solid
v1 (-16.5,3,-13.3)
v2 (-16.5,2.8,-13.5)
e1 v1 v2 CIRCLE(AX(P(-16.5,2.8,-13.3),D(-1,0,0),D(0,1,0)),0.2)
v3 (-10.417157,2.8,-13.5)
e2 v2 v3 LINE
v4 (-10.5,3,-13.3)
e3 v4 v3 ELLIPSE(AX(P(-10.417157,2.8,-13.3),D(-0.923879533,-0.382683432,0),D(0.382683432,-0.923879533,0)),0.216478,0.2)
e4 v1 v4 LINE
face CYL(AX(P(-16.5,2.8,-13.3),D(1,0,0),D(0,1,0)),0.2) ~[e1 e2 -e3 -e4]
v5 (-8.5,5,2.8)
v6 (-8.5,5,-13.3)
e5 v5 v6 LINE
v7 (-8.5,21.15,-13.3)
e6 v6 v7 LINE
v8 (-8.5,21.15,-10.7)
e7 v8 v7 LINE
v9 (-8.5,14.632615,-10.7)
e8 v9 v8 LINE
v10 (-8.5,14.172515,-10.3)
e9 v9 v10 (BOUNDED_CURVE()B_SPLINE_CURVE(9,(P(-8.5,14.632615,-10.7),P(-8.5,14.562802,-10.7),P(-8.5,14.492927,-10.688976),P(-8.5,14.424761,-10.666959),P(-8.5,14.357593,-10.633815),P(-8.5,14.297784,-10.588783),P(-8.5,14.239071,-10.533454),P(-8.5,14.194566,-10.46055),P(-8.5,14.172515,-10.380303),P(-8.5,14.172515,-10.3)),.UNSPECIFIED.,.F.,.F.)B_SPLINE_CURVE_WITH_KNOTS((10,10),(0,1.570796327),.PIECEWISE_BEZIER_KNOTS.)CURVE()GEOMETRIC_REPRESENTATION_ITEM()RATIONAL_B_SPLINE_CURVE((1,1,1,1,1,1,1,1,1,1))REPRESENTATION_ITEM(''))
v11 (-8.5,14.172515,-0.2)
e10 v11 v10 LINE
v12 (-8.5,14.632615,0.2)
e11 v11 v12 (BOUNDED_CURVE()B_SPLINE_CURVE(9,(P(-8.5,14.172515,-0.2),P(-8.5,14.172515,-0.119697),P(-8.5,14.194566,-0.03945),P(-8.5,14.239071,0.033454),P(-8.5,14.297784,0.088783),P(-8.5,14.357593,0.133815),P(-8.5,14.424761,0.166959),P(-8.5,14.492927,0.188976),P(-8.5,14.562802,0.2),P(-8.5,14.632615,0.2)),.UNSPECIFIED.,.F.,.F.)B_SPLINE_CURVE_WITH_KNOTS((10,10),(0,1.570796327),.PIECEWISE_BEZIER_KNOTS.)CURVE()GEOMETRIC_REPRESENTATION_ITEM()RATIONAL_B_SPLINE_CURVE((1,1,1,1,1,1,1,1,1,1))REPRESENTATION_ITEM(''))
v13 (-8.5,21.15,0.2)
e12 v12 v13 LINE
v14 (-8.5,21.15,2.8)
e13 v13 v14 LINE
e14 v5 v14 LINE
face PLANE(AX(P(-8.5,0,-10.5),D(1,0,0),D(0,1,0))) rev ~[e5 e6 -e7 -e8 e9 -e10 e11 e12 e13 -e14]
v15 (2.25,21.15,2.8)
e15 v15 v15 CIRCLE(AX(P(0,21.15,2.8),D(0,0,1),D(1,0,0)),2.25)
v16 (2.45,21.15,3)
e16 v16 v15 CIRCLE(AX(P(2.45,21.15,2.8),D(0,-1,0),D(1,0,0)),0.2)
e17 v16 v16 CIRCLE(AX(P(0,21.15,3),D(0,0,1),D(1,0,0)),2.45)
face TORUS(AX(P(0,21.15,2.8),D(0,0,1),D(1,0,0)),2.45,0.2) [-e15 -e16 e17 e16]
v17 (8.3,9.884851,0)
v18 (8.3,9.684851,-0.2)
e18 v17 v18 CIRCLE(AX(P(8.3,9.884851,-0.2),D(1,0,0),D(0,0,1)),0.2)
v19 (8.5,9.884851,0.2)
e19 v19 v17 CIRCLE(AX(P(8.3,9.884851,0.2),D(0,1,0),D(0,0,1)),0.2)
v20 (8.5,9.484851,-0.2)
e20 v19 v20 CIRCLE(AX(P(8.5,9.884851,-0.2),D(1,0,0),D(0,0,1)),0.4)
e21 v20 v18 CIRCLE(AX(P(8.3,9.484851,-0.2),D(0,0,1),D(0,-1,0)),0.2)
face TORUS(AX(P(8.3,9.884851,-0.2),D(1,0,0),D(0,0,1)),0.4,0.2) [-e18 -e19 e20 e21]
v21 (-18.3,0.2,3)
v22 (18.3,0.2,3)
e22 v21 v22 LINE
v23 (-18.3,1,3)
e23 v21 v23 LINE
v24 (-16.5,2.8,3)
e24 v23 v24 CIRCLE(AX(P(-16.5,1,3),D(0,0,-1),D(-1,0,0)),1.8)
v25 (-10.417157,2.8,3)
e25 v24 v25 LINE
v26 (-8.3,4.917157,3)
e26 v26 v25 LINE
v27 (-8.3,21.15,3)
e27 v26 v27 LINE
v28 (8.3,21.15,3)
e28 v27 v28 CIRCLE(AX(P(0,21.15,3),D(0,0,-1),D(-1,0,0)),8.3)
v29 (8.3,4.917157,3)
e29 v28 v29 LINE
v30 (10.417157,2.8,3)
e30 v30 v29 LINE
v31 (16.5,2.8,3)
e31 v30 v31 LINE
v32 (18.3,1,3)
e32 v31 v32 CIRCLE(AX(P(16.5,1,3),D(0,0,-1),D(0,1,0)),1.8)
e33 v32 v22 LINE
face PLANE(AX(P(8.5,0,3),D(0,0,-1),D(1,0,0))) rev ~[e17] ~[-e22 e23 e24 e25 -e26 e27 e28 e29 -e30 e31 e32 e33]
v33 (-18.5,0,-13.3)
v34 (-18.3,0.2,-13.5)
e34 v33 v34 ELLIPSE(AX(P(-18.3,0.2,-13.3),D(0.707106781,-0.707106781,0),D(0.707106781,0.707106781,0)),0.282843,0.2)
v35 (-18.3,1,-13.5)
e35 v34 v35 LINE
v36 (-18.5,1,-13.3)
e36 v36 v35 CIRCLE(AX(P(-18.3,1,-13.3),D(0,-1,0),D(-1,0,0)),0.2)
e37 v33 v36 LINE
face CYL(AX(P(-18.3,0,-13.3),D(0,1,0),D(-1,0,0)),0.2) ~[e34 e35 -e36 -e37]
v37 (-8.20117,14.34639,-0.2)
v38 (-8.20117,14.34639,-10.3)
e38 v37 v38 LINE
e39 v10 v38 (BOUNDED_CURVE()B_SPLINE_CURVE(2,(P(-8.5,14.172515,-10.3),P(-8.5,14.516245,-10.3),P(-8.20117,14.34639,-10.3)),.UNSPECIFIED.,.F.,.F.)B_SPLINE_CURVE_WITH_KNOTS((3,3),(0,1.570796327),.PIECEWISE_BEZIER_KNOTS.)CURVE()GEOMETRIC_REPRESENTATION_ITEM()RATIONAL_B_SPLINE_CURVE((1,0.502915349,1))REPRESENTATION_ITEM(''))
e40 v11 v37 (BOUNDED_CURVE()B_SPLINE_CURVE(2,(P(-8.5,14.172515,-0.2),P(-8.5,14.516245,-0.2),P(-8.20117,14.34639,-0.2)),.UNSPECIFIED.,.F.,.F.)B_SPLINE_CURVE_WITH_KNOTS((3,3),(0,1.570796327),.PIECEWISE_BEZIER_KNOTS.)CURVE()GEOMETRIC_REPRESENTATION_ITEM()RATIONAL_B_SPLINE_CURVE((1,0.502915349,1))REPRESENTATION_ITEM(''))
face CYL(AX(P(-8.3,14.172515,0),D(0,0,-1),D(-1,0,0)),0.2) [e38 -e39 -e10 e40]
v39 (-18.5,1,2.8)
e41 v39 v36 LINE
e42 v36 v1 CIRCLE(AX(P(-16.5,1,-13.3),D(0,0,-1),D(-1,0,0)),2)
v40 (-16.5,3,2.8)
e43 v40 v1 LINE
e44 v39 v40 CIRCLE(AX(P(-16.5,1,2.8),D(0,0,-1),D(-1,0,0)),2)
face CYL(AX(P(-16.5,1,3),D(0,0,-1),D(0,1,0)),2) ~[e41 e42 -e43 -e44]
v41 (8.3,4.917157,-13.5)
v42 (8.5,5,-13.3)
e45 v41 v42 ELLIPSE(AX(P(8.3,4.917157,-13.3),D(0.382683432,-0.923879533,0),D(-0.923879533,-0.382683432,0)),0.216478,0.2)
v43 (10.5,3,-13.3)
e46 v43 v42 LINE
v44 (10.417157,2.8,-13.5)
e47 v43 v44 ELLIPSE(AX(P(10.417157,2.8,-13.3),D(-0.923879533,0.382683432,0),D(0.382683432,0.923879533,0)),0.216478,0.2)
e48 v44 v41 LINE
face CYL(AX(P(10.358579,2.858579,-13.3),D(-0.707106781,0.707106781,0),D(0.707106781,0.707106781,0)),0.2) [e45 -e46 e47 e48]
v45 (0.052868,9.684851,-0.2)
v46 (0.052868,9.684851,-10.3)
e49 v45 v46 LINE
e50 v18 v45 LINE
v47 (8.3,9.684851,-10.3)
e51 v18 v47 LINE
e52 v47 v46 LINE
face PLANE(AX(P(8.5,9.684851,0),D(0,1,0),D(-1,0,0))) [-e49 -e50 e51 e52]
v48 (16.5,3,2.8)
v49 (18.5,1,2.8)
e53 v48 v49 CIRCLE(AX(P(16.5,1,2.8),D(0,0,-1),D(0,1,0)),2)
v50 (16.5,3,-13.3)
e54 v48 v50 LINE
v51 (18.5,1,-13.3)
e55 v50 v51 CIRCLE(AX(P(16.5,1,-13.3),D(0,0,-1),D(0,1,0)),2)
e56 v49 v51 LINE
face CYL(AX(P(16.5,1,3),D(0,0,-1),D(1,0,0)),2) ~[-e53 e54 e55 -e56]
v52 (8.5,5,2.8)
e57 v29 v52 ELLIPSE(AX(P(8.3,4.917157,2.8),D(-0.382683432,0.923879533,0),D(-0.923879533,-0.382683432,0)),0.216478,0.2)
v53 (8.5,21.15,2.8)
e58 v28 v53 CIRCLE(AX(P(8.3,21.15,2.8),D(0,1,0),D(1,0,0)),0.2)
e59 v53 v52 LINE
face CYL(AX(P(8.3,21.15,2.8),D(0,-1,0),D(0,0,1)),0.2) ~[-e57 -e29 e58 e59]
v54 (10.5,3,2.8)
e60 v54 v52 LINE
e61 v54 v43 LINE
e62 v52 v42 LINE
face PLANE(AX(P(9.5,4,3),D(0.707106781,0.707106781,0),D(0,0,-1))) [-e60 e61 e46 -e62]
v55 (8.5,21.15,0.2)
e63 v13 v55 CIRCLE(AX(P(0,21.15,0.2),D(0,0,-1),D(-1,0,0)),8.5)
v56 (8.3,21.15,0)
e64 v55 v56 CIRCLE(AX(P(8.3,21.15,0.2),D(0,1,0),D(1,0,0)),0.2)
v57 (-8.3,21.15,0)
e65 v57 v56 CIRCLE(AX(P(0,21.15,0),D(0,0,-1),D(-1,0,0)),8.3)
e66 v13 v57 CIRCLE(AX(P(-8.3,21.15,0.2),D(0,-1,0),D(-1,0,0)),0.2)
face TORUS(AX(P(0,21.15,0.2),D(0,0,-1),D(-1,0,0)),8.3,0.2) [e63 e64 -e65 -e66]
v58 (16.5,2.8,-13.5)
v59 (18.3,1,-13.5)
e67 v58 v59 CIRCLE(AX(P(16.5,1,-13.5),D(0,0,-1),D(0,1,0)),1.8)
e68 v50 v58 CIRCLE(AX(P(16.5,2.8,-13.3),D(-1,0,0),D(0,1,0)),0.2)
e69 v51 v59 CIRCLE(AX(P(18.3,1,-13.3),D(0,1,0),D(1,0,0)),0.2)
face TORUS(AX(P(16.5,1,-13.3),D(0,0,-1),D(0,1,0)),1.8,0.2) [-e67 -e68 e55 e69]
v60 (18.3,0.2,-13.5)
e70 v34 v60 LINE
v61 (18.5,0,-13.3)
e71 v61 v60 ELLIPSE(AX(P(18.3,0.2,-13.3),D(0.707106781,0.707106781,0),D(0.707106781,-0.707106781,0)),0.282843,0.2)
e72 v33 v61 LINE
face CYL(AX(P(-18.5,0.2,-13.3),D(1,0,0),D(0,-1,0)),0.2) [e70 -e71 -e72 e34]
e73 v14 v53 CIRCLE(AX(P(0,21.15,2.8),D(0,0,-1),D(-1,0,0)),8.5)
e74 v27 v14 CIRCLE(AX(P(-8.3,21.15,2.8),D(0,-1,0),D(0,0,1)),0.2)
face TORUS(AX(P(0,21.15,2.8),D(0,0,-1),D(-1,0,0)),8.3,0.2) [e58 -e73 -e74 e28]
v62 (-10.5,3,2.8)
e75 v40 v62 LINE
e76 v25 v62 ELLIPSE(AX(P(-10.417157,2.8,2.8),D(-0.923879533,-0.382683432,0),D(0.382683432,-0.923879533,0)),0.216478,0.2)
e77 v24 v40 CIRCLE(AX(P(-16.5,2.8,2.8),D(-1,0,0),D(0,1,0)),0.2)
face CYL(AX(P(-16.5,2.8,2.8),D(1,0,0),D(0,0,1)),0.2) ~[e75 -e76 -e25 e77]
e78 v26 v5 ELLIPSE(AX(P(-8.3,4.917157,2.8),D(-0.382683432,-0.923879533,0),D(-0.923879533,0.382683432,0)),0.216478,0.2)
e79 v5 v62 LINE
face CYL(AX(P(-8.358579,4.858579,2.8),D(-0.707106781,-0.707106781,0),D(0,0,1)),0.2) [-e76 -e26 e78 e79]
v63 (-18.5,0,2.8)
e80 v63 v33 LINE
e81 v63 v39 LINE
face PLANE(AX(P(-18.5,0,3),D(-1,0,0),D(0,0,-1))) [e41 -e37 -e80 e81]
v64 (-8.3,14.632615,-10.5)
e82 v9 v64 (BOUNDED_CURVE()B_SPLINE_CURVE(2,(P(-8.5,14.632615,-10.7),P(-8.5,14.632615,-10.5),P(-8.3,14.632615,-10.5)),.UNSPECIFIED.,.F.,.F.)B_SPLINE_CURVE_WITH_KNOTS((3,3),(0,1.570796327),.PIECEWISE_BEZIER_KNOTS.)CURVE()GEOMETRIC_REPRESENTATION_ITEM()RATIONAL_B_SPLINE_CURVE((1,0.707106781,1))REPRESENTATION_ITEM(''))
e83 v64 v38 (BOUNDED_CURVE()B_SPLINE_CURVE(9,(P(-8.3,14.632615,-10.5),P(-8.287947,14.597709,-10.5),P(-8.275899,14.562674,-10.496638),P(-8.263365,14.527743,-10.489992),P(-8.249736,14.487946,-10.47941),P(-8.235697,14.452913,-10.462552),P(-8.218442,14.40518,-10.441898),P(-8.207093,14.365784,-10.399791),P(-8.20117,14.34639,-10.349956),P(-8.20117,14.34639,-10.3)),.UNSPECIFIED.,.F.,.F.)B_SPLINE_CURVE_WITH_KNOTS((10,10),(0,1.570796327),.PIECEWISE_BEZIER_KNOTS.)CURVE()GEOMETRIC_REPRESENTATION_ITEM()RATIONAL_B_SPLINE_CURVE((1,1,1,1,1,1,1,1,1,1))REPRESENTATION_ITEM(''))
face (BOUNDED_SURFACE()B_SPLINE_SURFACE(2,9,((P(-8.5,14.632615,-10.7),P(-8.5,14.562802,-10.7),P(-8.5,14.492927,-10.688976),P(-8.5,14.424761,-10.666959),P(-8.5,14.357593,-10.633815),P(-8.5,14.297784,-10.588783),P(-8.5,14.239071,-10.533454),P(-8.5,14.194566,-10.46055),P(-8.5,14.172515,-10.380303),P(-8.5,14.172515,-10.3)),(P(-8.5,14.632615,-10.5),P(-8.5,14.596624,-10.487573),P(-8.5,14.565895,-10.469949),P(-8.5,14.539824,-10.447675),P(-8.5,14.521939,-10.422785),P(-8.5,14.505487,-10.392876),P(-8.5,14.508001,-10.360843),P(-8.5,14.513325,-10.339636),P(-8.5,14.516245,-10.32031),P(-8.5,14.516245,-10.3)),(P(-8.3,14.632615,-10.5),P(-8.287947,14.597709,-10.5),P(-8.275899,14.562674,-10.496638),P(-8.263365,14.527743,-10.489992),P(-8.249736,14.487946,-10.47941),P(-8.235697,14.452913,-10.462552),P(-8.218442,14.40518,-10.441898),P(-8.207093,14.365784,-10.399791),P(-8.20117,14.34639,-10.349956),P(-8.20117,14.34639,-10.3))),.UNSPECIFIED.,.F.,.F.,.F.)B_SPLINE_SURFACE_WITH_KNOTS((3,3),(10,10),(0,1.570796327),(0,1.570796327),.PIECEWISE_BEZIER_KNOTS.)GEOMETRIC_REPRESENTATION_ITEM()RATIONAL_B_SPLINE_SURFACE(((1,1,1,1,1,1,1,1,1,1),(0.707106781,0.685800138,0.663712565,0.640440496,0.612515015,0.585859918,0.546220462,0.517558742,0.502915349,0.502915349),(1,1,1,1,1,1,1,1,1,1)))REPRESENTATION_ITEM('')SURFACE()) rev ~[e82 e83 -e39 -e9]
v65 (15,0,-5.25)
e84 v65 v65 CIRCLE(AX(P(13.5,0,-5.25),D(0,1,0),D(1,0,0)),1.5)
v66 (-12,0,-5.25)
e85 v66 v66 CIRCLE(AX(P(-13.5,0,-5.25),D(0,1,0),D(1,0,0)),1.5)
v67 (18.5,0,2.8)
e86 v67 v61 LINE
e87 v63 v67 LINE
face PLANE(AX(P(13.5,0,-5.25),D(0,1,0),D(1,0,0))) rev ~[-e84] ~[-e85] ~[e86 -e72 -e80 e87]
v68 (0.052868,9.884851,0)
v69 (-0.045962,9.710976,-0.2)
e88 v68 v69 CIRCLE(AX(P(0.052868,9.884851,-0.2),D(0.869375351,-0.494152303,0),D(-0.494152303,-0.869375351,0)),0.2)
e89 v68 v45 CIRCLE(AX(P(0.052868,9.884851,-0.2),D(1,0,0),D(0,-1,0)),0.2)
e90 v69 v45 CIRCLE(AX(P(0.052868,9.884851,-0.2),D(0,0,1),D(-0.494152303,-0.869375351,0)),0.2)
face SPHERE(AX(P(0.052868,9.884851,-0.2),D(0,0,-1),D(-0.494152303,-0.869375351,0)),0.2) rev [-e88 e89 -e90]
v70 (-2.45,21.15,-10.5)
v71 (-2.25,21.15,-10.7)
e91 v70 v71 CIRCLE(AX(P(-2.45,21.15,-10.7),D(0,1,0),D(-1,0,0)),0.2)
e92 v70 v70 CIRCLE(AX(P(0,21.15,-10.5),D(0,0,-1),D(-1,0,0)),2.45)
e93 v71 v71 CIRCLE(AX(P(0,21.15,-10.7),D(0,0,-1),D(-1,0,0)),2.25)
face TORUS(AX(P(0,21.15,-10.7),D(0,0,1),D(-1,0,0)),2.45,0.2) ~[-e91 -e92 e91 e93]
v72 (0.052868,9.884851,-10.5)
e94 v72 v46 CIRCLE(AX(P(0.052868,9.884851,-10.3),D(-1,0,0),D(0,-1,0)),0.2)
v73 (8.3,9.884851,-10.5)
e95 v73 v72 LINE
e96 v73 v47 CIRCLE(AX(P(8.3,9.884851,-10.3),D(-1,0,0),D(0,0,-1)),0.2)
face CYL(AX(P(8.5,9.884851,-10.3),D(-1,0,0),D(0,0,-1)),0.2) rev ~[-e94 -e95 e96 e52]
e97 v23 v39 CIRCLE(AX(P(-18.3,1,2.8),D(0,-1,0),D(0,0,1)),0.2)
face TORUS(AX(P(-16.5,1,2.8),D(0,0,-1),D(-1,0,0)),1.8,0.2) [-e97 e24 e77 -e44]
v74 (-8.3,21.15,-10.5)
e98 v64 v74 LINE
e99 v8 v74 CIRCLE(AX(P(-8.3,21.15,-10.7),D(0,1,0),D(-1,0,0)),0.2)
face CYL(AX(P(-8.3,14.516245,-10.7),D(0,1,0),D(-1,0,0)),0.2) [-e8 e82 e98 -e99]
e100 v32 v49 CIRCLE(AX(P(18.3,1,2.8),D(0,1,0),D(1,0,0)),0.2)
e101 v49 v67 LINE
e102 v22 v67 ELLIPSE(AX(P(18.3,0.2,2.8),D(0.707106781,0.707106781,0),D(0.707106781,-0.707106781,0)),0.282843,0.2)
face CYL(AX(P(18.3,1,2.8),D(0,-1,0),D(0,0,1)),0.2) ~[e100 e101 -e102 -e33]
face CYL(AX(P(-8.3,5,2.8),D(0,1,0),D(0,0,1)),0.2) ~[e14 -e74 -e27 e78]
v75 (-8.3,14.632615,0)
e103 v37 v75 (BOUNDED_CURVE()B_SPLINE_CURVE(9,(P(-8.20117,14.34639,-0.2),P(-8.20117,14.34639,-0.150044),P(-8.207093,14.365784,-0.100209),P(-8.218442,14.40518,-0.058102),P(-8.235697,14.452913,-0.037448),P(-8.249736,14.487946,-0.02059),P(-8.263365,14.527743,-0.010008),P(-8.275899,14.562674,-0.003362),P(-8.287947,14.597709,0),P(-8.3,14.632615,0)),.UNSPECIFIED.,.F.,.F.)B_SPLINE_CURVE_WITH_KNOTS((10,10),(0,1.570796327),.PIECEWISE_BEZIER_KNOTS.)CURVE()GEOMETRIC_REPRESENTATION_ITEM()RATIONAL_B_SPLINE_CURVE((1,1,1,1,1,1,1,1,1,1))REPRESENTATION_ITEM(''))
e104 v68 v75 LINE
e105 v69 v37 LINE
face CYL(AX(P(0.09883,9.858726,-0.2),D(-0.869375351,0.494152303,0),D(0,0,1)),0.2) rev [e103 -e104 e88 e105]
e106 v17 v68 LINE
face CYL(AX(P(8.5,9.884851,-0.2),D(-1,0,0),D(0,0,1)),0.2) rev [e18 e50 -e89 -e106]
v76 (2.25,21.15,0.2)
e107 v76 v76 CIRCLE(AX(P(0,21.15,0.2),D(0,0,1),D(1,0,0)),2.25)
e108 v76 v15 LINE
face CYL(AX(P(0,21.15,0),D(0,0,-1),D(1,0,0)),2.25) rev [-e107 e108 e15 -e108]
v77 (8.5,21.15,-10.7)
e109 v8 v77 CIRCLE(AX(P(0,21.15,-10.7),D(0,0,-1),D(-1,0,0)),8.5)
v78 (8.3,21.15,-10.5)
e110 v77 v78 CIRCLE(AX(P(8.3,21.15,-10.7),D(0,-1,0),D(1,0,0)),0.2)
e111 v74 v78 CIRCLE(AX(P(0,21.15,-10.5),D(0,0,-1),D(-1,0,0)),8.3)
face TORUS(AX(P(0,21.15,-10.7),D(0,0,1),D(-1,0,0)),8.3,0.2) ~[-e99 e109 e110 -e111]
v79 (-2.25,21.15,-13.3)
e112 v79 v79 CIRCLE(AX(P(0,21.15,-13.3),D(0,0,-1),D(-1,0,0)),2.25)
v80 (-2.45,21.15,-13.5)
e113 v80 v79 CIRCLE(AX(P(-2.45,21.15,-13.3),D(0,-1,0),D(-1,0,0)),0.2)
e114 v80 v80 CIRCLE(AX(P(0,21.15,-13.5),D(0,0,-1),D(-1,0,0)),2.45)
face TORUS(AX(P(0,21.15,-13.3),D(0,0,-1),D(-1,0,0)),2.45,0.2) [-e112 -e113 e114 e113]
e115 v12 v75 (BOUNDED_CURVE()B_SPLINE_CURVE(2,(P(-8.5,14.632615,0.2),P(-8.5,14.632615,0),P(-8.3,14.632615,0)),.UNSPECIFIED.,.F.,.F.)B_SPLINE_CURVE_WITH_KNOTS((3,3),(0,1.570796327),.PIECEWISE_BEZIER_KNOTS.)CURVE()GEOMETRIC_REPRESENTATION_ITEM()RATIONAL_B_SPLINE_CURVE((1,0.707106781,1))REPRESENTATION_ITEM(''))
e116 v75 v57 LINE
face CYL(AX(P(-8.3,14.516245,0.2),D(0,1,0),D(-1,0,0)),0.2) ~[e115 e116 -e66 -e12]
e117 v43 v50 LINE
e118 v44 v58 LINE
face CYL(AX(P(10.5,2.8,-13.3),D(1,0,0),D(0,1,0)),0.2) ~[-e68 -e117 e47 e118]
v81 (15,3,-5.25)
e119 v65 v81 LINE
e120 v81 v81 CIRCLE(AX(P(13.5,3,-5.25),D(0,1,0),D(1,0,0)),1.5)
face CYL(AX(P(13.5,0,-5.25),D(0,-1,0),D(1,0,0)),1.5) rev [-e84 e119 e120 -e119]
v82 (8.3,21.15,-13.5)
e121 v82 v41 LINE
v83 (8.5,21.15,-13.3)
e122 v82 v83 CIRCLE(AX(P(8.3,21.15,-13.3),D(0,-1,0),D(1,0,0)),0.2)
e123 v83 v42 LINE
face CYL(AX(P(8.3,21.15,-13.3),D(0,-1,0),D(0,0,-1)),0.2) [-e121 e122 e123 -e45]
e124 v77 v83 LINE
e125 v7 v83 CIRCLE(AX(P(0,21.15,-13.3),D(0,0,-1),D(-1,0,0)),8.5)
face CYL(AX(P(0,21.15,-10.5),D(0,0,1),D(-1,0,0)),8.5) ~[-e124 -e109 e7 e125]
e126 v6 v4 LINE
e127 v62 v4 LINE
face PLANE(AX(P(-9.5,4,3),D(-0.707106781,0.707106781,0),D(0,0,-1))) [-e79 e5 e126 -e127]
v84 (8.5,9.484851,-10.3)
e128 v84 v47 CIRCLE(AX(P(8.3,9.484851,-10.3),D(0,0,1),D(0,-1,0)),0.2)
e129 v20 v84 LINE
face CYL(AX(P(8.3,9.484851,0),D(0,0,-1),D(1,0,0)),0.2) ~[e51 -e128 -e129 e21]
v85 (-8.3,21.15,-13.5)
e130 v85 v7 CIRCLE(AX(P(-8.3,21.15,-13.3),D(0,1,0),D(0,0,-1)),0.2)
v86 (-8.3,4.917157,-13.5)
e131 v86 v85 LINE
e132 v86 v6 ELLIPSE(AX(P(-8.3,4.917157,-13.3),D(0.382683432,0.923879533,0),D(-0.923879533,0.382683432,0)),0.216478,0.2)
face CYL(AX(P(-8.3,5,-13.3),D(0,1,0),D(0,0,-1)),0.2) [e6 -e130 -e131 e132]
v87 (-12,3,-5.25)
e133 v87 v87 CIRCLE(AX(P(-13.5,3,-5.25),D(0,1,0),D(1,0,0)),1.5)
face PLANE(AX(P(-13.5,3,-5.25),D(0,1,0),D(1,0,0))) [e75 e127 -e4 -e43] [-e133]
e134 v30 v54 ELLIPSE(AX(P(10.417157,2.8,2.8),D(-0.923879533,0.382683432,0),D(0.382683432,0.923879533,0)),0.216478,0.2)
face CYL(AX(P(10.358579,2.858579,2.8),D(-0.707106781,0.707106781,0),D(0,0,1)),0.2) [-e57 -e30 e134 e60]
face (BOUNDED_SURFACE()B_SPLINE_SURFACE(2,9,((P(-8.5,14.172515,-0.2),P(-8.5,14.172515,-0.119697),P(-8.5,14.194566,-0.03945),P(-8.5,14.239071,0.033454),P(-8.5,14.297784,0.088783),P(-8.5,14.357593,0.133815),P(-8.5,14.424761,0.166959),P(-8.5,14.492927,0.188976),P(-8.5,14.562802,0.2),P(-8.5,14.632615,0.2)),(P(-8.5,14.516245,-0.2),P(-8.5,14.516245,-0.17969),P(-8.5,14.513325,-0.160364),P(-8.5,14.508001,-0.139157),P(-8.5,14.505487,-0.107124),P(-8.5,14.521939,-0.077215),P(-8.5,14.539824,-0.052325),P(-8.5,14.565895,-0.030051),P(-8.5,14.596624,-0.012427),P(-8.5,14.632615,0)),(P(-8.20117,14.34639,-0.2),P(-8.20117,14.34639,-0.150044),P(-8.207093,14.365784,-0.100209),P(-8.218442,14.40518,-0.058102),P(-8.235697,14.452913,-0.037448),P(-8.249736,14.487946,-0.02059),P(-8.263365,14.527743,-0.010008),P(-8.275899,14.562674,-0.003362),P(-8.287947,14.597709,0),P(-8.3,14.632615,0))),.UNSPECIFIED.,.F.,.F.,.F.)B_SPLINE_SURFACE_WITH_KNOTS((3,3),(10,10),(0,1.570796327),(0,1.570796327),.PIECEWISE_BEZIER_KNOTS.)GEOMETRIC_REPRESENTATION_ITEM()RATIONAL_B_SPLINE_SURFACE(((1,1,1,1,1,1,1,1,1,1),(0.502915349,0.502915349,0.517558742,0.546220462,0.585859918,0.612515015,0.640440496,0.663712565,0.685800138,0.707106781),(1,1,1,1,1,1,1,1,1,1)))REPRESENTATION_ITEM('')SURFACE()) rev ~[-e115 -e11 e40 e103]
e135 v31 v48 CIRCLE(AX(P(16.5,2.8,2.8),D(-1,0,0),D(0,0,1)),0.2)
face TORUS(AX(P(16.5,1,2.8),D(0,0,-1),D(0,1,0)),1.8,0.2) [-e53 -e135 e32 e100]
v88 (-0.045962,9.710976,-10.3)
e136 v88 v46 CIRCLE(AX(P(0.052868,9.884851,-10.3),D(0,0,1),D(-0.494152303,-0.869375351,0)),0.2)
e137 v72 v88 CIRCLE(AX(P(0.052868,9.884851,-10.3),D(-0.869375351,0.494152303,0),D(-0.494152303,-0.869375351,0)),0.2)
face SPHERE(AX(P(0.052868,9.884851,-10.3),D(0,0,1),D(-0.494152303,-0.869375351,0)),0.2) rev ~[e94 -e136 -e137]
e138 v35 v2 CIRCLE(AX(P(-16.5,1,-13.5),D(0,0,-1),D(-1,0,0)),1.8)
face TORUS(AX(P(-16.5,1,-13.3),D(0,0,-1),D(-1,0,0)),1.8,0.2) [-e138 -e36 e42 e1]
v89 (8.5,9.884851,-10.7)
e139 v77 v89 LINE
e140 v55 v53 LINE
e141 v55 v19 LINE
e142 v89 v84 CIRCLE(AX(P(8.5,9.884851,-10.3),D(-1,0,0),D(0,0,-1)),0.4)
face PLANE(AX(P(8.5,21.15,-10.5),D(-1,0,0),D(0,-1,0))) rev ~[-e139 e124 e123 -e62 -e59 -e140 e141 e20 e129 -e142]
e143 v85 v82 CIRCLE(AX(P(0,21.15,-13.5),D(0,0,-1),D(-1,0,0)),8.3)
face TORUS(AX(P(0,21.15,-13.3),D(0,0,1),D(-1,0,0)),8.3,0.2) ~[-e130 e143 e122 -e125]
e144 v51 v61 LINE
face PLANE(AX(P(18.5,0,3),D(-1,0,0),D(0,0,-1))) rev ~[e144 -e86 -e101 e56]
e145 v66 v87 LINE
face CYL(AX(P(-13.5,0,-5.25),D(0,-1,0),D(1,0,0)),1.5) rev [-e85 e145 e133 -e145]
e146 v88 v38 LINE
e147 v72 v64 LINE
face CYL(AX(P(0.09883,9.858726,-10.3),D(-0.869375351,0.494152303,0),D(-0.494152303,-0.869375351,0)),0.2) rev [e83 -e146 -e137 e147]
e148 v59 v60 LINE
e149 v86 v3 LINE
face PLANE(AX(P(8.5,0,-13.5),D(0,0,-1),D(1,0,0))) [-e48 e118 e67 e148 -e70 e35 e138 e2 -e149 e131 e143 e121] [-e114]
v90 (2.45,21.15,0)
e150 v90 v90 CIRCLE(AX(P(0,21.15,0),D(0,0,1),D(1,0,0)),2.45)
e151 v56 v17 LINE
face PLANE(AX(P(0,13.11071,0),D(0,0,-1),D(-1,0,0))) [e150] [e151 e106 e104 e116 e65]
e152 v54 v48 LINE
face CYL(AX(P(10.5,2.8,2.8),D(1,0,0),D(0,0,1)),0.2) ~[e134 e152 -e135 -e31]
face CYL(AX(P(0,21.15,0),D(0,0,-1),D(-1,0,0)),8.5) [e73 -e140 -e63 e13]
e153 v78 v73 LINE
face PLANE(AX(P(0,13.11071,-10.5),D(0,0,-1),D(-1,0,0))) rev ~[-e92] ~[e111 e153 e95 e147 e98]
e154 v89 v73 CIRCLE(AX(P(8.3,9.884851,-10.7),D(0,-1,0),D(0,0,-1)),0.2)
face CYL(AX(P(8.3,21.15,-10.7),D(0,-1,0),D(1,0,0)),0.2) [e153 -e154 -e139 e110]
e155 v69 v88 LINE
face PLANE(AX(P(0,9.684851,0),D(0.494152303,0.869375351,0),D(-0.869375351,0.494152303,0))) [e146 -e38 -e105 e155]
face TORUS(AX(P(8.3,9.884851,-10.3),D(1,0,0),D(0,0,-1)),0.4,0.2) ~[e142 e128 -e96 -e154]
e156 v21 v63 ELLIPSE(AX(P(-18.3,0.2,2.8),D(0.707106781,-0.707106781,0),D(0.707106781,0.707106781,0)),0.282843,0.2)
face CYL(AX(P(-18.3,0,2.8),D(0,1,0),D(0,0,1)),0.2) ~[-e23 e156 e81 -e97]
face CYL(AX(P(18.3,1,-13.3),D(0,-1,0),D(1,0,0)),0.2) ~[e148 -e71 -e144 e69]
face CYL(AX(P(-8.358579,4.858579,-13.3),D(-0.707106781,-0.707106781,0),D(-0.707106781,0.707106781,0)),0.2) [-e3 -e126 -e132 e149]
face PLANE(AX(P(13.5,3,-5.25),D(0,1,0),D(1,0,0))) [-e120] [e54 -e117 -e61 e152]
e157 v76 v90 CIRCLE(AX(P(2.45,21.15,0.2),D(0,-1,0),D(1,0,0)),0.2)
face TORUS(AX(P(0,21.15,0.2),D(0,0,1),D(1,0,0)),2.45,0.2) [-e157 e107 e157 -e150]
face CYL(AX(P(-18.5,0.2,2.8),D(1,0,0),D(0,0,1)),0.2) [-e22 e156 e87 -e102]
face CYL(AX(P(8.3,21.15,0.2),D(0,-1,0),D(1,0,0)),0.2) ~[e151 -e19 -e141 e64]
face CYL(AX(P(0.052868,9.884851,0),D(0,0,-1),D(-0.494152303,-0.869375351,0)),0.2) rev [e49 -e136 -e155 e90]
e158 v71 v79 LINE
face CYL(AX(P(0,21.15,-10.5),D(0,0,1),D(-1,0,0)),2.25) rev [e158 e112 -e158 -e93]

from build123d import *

# Parameters (mm, degrees)
SKETCH1_R           = 2.25
BOSS_EXTRUDE1_DEPTH = 3
BOSS_EXTRUDE2_DEPTH = 10.5
SKETCH3_R           = 2.25
BOSS_EXTRUDE3_DEPTH = 3
SKETCH4_W           = 10
SKETCH4_H           = 16.5
SKETCH4_R           = 1.5
BOSS_EXTRUDE4_DEPTH = 3
CHAMFER1_SIZE       = 2
FILLET1_R           = 2
FILLET2_R           = 0.2


with BuildPart() as part:
    # Sketch1 → Boss-Extrude1 (new body)
    with BuildSketch(Plane.XY):
        with BuildLine():
            Line((8.5, 21.15), (8.5, 0))
            Line((8.5, 0), (-8.5, 0))
            Line((-8.5, 0), (-8.5, 21.15))
            ThreePointArc((-8.5, 21.15), (0, 29.65), (8.5, 21.15))
        make_face()
        with Locations((0, 21.15)):
            Circle(SKETCH1_R, mode=Mode.SUBTRACT)
    extrude(amount=BOSS_EXTRUDE1_DEPTH)

    # Sketch2 → Boss-Extrude2 (add)
    with BuildSketch(Plane(origin=(0, 0, 0), x_dir=(-1, 0, 0), z_dir=(0, 0, -1))):
        Polygon((-8.5, 9.684851267), (0, 9.684851267), (8.5, 14.51624495), (8.5, 0), (-8.5, 0), align=None)
    extrude(amount=BOSS_EXTRUDE2_DEPTH)

    # Sketch3 → Boss-Extrude3 (add)
    with BuildSketch(Plane(origin=(0, 0, -10.5), x_dir=(-1, 0, 0), z_dir=(0, 0, -1))):
        with BuildLine():
            Line((-8.5, 21.15), (-8.5, 0))
            Line((-8.5, 0), (8.5, 0))
            Line((8.5, 0), (8.5, 21.15))
            ThreePointArc((8.5, 21.15), (0, 29.65), (-8.5, 21.15))
        make_face()
        with Locations((0, 21.15)):
            Circle(SKETCH3_R, mode=Mode.SUBTRACT)
    extrude(amount=BOSS_EXTRUDE3_DEPTH)

    # Sketch4 → Boss-Extrude4 (add)
    with BuildSketch(Plane(origin=(0, 0, 0), x_dir=(1, 0, 0), z_dir=(0, 1, 0))):
        with Locations((13.5, 5.25)):
            Rectangle(SKETCH4_W, SKETCH4_H)
        with Locations((13.5, 5.25)):
            Circle(SKETCH4_R, mode=Mode.SUBTRACT)
        with Locations((-13.5, 5.25)):
            Rectangle(SKETCH4_W, SKETCH4_H)
        with Locations((-13.5, 5.25)):
            Circle(SKETCH4_R, mode=Mode.SUBTRACT)
    extrude(amount=BOSS_EXTRUDE4_DEPTH)

    # Chamfer1
    chamfer1_edges = [part.edges().sort_by_distance(p)[0] for p in [
        (8.5, 3, -5.25),
        (-8.5, 3, -5.25),
    ]]
    chamfer(chamfer1_edges, length=CHAMFER1_SIZE)

    # Fillet1
    fillet1_edges = [part.edges().sort_by_distance(p)[0] for p in [
        (18.5, 3, -5.25),
        (-18.5, 3, -5.25),
    ]]
    fillet(fillet1_edges, radius=FILLET1_R)

    # Fillet2
    fillet2_edges = [part.edges().sort_by_distance(p)[0] for p in [
        (0, 29.65, 3),
        (-2.25, 21.15, 0),
        (-2.25, 21.15, 3),
        (-8.5, 13.075, 3),
        (8.5, 15.417425634, 0),
        (8.5, 9.684851267, -5.25),
        (-4.25, 12.100548109, 0),
        (-8.5, 14.51624495, -5.25),
        (4.25, 9.684851267, 0),
        (0, 9.684851267, -5.25),
        (-4.25, 12.100548109, -10.5),
        (4.25, 9.684851267, -10.5),
        (0, 29.65, -13.5),
        (8.5, 13.075, -13.5),
        (0, 0, -13.5),
        (2.25, 21.15, -10.5),
        (0, 29.65, -10.5),
        (8.5, 15.417425634, -10.5),
        (-8.5, 17.833122475, -10.5),
        (2.25, 21.15, -13.5),
        (0, 0, 3),
        (-8.5, 17.833122475, 0),
        (0, 29.65, 0),
        (-13.5, 3, -13.5),
        (-8.5, 13.075, -13.5),
        (13.5, 3, 3),
        (8.5, 13.075, 3),
        (-9.5, 4, -13.5),
        (-9.5, 4, 3),
        (9.5, 4, 3),
        (9.5, 4, -13.5),
        (-13.5, 3, 3),
        (18.5, 0.5, 3),
        (-18.5, 0.5, 3),
        (17.914213562, 2.414213562, 3),
        (-17.914213562, 2.414213562, 3),
        (-18.5, 0.5, -13.5),
        (13.5, 3, -13.5),
        (18.5, 0.5, -13.5),
        (17.914213562, 2.414213562, -13.5),
        (-17.914213562, 2.414213562, -13.5),
    ]]
    fillet(fillet2_edges, radius=FILLET2_R)


solid = part.part
